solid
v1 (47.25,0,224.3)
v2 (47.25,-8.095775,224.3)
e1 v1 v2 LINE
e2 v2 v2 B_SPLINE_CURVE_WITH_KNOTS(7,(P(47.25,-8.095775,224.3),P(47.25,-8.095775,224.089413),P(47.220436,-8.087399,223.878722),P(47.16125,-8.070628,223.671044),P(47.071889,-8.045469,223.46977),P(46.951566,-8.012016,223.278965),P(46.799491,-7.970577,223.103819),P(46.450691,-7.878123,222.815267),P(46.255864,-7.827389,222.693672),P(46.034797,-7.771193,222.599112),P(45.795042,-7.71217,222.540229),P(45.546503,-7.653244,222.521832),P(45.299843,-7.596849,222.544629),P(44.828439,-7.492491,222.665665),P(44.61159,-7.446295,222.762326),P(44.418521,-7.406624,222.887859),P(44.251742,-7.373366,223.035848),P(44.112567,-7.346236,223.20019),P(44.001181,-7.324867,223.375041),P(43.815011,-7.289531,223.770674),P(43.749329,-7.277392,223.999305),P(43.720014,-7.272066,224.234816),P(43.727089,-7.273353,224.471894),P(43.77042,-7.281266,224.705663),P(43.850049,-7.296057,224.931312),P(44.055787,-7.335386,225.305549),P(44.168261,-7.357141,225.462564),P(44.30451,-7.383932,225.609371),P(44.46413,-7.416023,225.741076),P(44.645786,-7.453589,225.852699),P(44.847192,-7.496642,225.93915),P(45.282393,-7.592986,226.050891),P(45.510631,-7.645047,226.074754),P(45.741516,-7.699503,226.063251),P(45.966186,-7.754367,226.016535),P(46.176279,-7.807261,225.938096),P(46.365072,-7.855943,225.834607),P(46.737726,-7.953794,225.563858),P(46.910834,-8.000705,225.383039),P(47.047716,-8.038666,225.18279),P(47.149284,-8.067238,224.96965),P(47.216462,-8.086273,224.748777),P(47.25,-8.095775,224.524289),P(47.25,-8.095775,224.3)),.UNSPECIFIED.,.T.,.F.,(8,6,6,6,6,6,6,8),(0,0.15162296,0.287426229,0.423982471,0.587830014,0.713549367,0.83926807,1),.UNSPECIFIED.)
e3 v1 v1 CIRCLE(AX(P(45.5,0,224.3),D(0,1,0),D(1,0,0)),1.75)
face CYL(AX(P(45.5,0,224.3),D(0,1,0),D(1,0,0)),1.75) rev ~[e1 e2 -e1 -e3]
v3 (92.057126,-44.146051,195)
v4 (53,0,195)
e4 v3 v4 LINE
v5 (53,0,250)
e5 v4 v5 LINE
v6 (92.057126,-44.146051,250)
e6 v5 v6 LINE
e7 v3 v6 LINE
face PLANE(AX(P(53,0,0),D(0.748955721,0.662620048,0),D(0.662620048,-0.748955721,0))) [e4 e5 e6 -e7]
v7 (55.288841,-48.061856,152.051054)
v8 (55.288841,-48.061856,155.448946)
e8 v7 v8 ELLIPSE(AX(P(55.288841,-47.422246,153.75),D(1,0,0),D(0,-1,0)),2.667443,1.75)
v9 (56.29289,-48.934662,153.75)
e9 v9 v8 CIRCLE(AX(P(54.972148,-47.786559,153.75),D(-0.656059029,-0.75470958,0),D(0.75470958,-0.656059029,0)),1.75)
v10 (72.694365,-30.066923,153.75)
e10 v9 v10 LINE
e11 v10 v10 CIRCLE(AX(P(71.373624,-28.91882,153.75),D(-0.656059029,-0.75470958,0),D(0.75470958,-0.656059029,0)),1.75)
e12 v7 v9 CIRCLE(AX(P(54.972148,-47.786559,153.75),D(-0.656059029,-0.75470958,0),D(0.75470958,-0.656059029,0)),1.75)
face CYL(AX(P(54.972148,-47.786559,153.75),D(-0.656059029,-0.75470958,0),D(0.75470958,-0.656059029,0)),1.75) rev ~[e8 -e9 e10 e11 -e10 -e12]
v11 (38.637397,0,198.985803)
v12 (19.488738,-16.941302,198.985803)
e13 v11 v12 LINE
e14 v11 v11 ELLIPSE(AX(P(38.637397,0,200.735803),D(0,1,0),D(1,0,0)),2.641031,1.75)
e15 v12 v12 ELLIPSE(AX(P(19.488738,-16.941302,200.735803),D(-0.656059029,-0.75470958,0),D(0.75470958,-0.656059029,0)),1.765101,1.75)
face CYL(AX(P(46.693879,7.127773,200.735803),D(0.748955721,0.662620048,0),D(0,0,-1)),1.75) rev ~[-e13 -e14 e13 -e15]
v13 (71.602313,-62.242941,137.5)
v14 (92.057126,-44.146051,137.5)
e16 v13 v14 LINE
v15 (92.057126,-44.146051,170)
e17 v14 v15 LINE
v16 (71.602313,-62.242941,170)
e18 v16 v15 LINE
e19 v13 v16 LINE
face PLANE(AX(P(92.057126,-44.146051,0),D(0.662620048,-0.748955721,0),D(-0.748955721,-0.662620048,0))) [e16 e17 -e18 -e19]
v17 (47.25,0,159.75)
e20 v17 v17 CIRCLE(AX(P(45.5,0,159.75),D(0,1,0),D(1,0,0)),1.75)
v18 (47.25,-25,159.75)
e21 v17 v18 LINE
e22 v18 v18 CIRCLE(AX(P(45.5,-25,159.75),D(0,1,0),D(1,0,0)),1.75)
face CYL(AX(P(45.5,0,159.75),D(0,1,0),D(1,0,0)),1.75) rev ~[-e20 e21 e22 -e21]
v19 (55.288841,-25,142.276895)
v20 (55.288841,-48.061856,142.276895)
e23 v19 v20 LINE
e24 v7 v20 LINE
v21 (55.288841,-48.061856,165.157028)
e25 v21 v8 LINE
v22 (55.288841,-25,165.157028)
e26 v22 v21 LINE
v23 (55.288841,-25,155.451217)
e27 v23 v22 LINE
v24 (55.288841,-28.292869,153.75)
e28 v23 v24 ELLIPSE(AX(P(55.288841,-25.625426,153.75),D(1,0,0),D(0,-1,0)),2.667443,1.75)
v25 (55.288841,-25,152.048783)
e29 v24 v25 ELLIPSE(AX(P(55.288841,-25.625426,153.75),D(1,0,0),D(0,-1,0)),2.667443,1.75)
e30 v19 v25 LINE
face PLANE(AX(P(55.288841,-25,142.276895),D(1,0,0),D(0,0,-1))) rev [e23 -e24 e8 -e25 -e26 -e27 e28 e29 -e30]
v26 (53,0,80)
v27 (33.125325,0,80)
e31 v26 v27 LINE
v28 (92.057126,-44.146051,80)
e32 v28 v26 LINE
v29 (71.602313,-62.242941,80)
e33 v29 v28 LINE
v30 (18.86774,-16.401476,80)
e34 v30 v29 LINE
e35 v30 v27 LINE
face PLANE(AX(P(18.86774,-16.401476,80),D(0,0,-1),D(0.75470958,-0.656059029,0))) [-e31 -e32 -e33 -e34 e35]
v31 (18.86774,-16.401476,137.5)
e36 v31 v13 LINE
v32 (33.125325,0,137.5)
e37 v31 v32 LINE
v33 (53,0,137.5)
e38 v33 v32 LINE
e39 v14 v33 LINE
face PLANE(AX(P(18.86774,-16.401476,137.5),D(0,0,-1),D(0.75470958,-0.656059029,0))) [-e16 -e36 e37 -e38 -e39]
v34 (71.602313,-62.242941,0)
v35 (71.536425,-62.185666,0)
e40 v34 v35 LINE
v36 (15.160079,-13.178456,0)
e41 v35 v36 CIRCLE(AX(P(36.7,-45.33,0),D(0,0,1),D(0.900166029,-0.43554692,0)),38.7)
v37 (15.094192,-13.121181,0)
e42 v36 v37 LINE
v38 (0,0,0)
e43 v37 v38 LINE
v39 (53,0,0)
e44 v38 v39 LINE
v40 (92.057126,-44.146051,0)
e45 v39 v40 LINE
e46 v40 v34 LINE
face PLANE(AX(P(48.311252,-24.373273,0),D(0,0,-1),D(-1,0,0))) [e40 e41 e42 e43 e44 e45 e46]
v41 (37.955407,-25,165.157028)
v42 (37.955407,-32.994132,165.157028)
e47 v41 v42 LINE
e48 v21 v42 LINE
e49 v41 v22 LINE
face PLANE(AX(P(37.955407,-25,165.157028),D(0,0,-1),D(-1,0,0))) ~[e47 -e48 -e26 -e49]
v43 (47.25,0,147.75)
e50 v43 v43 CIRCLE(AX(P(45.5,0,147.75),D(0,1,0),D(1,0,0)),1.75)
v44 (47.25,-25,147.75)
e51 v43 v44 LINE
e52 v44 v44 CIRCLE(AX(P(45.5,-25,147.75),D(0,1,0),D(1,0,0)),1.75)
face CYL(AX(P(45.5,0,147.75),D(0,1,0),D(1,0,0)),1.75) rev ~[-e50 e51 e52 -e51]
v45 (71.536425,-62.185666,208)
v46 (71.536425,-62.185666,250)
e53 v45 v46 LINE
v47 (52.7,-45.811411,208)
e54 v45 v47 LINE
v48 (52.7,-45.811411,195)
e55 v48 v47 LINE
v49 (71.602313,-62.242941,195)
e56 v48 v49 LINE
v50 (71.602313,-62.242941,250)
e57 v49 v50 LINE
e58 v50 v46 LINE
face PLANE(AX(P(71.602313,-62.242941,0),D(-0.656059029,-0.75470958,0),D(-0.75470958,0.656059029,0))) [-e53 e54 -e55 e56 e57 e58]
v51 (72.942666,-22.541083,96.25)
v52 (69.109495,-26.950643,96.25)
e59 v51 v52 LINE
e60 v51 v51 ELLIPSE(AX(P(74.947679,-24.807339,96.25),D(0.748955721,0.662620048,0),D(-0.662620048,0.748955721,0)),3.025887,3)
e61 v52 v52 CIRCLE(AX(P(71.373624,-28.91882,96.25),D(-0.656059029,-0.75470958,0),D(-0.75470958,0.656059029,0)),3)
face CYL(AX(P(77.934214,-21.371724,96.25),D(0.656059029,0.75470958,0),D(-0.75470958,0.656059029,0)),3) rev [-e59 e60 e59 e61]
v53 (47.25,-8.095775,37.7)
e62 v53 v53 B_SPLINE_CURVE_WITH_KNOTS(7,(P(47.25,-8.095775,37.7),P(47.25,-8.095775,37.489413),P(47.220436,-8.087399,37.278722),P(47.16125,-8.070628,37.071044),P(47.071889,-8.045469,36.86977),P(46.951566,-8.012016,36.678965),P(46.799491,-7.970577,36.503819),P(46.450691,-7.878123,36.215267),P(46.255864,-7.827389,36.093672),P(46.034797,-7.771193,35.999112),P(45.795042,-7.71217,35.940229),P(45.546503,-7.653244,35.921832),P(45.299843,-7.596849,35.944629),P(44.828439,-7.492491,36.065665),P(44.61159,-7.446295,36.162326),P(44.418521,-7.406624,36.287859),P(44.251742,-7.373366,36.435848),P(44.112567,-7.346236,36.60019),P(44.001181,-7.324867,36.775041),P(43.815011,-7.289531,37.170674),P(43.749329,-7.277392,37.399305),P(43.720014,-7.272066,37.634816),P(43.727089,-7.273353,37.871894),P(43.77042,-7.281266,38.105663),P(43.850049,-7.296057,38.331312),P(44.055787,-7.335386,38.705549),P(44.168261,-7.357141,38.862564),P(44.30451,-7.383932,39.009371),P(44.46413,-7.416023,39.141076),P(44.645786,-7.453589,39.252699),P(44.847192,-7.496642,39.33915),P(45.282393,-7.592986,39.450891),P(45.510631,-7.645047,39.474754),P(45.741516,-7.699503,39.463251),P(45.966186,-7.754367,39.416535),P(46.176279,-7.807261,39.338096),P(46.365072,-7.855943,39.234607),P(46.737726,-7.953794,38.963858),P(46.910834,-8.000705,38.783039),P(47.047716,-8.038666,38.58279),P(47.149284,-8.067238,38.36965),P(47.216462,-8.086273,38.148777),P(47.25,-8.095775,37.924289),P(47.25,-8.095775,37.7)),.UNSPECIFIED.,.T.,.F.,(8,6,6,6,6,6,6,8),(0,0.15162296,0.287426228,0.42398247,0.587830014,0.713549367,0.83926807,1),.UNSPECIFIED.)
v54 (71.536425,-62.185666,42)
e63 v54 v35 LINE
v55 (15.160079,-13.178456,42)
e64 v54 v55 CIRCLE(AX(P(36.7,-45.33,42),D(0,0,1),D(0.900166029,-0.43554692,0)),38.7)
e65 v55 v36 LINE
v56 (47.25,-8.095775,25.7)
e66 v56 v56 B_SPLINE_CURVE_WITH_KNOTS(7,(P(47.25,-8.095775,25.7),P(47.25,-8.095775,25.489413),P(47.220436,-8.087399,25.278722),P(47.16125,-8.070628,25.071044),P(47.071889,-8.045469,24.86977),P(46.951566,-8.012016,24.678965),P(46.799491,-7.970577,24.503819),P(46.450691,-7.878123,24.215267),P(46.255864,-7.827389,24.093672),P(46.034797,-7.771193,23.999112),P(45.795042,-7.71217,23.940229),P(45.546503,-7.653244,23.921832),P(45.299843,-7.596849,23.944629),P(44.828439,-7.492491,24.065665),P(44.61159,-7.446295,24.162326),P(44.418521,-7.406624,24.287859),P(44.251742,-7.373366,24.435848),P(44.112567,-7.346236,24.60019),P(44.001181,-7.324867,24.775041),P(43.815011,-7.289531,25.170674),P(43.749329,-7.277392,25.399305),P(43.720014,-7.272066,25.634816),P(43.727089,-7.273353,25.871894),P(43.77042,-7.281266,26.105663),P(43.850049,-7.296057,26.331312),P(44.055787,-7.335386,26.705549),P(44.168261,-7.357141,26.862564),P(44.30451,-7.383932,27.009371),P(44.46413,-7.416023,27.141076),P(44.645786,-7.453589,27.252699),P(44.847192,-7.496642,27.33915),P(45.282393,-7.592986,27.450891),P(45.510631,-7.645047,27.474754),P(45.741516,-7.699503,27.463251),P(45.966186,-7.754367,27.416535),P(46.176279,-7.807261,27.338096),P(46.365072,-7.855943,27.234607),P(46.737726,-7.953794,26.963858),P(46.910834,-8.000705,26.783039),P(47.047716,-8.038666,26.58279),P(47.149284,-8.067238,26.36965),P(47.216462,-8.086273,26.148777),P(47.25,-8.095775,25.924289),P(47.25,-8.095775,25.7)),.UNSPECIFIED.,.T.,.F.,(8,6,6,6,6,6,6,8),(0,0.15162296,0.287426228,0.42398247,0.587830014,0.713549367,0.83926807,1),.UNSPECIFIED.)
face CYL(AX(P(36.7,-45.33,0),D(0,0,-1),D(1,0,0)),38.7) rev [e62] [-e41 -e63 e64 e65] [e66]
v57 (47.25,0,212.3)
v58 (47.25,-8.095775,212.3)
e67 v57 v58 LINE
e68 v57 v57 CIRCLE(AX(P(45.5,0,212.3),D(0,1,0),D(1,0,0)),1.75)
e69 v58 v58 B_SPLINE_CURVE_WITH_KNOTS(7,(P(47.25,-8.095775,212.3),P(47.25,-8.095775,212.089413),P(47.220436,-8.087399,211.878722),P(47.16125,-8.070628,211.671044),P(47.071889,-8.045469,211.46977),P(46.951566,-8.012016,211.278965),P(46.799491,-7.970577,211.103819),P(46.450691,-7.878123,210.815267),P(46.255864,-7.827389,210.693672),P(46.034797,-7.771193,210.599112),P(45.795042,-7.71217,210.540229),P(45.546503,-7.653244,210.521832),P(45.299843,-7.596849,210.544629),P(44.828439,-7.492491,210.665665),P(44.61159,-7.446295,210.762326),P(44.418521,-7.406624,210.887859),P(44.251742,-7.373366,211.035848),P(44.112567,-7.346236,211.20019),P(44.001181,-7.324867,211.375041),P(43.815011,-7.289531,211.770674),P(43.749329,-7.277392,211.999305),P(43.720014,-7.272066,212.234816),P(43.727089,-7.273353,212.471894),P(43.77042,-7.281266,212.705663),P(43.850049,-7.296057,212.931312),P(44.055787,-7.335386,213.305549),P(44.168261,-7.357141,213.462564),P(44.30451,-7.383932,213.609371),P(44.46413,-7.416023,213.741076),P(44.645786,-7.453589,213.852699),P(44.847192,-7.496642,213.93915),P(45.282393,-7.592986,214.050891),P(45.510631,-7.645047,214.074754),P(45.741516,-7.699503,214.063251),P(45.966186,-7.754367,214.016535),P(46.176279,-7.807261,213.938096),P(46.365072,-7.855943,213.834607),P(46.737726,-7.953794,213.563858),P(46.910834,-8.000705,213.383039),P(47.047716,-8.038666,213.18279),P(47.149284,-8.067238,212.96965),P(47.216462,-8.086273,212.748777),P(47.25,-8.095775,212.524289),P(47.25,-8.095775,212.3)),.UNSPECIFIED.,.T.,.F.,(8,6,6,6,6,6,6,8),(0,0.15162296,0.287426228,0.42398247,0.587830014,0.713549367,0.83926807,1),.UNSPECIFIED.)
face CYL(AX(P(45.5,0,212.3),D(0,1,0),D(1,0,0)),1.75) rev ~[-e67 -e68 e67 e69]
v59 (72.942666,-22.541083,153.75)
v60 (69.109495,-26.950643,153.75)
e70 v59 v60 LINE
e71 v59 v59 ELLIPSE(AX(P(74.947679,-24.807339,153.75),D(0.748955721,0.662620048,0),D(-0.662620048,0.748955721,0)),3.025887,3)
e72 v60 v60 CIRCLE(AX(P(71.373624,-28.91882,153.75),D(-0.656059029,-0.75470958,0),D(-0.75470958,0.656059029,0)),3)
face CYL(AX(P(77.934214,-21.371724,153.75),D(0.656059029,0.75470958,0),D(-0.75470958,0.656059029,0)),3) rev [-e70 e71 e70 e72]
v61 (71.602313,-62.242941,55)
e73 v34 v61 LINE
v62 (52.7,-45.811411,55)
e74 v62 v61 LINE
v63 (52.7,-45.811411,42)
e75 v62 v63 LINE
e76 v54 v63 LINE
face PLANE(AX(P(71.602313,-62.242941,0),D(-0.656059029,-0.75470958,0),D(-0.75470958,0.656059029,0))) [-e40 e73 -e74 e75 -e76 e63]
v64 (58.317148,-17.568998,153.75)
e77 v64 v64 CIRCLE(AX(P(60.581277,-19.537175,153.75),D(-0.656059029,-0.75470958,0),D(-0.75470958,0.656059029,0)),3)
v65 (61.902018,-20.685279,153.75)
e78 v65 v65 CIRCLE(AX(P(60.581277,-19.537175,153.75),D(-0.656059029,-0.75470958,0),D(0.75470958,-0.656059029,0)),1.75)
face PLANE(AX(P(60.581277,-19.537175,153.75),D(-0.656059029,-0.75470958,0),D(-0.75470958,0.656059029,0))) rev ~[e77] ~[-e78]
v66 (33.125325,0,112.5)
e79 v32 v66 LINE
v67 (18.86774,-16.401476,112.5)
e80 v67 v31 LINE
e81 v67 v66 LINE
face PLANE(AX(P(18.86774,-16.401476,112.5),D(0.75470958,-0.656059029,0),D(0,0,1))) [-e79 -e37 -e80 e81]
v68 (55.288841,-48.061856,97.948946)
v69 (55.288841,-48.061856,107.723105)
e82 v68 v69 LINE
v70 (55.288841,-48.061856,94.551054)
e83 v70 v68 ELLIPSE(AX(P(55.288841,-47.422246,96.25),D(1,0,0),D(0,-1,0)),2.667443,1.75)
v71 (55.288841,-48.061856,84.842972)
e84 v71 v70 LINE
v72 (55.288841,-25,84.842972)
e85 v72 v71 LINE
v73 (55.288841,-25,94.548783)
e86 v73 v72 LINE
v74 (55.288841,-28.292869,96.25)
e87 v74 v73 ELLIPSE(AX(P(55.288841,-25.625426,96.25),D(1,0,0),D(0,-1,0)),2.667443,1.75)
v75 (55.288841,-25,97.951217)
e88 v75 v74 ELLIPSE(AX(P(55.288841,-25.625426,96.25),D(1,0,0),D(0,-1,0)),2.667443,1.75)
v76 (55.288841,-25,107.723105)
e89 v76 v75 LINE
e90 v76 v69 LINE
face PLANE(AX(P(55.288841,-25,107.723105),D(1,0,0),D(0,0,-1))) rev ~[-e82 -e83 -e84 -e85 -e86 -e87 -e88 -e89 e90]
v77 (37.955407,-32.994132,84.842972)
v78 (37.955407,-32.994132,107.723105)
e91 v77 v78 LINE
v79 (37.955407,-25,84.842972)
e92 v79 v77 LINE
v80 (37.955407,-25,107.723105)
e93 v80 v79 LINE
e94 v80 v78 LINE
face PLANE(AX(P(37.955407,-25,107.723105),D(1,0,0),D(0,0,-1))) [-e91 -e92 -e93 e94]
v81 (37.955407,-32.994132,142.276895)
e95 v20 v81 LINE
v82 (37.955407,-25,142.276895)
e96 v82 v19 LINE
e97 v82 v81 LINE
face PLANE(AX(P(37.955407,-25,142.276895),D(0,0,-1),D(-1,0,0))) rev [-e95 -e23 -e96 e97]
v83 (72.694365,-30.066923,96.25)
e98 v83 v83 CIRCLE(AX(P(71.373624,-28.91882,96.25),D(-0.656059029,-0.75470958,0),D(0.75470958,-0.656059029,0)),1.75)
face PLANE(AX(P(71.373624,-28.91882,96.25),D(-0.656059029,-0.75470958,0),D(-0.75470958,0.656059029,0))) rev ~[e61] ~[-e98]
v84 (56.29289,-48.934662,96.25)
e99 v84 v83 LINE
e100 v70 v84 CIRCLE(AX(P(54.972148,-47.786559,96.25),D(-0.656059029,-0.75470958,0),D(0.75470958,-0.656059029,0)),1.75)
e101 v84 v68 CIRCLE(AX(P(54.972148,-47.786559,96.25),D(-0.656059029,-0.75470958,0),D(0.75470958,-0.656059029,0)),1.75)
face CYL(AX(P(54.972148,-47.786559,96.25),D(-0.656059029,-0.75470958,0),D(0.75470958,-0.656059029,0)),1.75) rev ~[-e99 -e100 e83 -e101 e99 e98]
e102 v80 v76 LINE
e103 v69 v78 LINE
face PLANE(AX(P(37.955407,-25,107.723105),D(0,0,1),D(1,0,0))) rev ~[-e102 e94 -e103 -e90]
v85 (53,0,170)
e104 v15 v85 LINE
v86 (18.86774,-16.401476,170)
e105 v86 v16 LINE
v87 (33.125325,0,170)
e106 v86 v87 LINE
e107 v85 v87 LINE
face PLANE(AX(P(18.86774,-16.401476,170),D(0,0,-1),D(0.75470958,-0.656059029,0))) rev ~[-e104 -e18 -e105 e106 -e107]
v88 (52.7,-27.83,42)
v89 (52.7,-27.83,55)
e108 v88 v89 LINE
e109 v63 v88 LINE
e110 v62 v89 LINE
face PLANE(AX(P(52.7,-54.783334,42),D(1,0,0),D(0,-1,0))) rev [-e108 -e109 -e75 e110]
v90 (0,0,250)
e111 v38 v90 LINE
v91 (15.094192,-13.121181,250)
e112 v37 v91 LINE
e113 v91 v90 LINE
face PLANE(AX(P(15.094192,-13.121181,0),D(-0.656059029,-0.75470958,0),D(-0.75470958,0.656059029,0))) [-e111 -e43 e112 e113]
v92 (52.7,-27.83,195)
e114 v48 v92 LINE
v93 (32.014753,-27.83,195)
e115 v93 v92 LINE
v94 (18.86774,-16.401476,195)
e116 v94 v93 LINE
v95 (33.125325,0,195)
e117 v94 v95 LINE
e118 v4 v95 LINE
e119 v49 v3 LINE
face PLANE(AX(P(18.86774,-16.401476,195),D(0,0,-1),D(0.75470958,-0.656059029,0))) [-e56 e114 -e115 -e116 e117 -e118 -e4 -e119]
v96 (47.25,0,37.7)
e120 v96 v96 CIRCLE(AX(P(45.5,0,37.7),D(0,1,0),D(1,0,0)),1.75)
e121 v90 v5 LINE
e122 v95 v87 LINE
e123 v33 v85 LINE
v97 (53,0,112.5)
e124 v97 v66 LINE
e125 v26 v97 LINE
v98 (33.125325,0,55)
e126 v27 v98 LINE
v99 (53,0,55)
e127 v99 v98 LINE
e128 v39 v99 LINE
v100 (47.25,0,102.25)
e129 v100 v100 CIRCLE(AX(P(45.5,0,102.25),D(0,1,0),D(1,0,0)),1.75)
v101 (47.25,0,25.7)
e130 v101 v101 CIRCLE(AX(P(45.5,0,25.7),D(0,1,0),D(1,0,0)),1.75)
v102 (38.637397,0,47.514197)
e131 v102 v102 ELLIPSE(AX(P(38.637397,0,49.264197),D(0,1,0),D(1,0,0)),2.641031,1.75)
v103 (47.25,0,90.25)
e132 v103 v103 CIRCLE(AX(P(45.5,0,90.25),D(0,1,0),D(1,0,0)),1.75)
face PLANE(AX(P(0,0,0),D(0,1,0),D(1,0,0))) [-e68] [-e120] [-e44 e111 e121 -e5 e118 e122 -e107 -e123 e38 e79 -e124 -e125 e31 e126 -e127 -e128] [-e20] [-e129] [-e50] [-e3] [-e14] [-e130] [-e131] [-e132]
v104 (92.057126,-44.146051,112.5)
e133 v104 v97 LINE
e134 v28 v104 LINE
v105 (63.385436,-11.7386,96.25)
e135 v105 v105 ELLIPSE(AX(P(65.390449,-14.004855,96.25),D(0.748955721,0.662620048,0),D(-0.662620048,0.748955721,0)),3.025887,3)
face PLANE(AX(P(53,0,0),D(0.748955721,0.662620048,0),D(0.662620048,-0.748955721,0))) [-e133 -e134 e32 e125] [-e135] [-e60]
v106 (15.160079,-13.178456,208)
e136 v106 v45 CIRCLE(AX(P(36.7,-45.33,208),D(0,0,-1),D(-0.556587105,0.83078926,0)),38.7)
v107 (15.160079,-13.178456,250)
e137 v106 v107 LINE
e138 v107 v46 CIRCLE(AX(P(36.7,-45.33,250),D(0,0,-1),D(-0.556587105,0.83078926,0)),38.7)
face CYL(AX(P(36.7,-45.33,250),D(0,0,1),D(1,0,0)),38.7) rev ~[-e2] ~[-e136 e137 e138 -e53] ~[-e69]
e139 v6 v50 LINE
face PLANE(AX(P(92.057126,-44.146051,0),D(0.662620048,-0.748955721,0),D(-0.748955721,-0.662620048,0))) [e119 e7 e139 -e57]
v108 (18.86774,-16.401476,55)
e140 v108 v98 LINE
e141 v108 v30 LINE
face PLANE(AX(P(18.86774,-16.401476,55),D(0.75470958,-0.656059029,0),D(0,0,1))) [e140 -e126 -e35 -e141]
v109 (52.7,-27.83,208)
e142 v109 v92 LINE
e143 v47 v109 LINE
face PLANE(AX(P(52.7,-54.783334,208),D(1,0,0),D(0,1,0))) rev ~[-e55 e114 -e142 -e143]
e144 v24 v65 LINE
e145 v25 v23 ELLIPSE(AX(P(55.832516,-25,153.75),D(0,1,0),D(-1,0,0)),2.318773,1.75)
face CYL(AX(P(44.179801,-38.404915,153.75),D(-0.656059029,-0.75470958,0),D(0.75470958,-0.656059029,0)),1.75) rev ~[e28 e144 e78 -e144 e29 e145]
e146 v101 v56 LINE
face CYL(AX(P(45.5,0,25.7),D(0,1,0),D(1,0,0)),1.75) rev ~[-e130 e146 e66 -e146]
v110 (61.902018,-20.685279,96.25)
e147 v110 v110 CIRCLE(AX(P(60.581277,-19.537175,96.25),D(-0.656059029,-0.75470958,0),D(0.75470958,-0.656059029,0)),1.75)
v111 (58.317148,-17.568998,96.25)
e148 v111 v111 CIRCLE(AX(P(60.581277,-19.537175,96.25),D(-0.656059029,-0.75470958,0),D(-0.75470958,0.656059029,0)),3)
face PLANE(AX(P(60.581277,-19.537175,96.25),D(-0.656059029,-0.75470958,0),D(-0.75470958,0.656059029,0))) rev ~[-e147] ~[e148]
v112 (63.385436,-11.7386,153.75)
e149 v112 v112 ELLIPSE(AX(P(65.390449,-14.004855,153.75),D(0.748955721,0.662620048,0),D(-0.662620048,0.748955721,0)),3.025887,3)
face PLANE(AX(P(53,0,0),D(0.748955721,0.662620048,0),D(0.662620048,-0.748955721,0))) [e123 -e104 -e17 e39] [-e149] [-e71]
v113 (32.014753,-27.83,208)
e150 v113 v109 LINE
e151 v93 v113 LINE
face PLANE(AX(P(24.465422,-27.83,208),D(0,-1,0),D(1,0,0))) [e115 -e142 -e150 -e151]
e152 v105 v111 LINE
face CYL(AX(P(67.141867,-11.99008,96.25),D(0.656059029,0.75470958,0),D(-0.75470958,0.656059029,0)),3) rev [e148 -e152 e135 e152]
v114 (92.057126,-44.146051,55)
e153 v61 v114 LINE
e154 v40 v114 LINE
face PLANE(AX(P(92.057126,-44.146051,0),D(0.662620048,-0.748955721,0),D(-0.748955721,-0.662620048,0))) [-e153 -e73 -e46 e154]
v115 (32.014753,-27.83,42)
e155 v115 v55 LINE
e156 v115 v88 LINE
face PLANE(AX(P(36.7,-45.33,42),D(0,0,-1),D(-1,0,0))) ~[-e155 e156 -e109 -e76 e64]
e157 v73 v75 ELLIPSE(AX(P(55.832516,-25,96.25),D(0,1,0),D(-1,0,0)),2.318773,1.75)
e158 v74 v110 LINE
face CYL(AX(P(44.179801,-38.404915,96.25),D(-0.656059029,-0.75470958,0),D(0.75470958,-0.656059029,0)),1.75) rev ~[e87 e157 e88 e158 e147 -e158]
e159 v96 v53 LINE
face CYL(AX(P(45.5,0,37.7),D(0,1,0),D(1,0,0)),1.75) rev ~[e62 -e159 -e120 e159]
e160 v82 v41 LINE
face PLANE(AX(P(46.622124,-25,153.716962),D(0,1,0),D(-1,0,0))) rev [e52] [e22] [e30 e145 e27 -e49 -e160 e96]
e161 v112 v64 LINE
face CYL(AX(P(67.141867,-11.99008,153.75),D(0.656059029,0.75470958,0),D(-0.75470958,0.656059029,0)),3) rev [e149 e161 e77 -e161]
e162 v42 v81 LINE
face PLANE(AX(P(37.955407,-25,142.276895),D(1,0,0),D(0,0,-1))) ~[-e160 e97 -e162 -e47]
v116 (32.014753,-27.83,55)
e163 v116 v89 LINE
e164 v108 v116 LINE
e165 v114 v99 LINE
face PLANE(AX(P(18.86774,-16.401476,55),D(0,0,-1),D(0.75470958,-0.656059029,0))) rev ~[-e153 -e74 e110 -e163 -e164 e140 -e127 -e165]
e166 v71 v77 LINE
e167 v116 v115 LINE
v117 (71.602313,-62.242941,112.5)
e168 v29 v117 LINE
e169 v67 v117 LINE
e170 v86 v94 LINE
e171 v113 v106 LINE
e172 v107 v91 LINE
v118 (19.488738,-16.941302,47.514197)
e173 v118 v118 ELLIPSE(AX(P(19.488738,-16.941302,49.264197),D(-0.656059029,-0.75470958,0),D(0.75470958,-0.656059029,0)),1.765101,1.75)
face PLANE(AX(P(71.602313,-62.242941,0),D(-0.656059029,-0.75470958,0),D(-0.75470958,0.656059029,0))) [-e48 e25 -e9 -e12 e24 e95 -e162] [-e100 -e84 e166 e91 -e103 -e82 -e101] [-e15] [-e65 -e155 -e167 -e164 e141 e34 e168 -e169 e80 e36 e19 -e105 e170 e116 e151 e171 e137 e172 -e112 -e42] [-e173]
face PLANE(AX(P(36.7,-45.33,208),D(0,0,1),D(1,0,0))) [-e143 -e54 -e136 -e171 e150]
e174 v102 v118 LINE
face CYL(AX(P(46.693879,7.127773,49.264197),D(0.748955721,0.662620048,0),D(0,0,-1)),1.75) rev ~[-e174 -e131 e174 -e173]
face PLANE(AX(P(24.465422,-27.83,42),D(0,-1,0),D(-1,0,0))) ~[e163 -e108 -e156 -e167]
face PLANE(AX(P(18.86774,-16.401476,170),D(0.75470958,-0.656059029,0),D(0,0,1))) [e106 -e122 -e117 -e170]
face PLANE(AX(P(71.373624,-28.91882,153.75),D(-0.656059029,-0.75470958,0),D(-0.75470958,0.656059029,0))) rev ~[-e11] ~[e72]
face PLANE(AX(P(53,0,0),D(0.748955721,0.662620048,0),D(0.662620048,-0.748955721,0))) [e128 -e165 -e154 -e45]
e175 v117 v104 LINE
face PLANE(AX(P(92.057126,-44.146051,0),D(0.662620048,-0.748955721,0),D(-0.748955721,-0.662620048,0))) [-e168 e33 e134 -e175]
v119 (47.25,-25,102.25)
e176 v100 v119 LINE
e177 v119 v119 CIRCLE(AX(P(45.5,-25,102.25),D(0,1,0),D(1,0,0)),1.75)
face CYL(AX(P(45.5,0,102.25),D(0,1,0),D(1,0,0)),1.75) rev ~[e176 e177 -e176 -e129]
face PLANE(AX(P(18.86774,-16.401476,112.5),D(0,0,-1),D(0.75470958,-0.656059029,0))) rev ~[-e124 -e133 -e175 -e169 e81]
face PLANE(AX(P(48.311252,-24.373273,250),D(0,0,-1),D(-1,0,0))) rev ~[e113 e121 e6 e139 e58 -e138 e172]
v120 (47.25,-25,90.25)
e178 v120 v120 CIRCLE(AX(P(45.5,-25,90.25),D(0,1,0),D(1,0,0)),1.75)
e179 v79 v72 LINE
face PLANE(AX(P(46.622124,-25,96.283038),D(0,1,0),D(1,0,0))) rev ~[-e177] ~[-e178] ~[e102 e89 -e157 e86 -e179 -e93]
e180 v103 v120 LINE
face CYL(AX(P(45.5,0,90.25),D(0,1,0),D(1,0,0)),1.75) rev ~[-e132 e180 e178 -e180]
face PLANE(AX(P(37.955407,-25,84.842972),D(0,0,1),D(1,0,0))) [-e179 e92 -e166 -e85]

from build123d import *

# Parameters (mm, degrees)
EXTRUDE_1_DEPTH      = 250
SKETCH_2_R           = 38.7
CUT_EXTRUDE_1_DEPTH  = 42
SKETCH_3_W           = 28.23457759
SKETCH_3_H           = 26.953334418
CUT_EXTRUDE_2_DEPTH  = 14
SKETCH_4_W           = 170
SKETCH_4_H           = 25
CUT_EXTRUDE_3_DEPTH  = 78
SKETCH_7_R           = 1.75
CUT_EXTRUDE_5_DEPTH  = 25
SKETCH_6_R           = 1.75
CUT_EXTRUDE_6_DEPTH  = 90
SKETCH_5_R           = 1.75
CUT_EXTRUDE_8_DEPTH  = 10
SKETCH_9_R           = 1.75
CUT_EXTRUDE_9_DEPTH  = 124
SKETCH_10_W          = 17.333433977
SKETCH_10_H          = 22.880132851
CUT_EXTRUDE_10_DEPTH = 31
SKETCH_11_R          = 3
CUT_EXTRUDE_11_DEPTH = 10


with BuildPart() as part:
    # 草图1 → 凸台-拉伸1 (new body)
    with BuildSketch(Plane.XY):
        Polygon((0, 0), (53, 0), (92.057126275, -44.146050576), (71.602312757, -62.242940876), (15.094191604, -13.12118058), align=None)
    extrude(amount=EXTRUDE_1_DEPTH)

    # 草图2 → 切除-拉伸1 (cut)
    with BuildSketch(Plane.XY.offset(250)):
        with Locations((36.7, -45.33)):
            Circle(SKETCH_2_R)
    cut_extrude_1 = extrude(amount=-CUT_EXTRUDE_1_DEPTH, mode=Mode.SUBTRACT)

    # 草图3 → 切除-拉伸2 (cut)
    with BuildSketch(Plane.XY.offset(208)):
        with Locations((38.582711205, -41.306667209)):
            Rectangle(SKETCH_3_W, SKETCH_3_H)
    cut_extrude_2 = extrude(amount=-CUT_EXTRUDE_2_DEPTH, mode=Mode.SUBTRACT)

    # 草图4 → 切除-拉伸3 (cut)
    with BuildSketch(Plane(origin=(0, 0, 0), x_dir=(0.75470958, -0.656059029, 0), z_dir=(-0.656059029, -0.75470958, 0))):
        with Locations((110, 67.5)):
            Rectangle(SKETCH_4_W, SKETCH_4_H)
        with Locations((110, 125)):
            Rectangle(SKETCH_4_W, SKETCH_4_H)
        with Locations((110, 182.5)):
            Rectangle(SKETCH_4_W, SKETCH_4_H)
    extrude(amount=-CUT_EXTRUDE_3_DEPTH, mode=Mode.SUBTRACT)

    # 镜向1: 切除-拉伸1, 切除-拉伸2 across plane
    add(cut_extrude_1.mirror(Plane.XY.offset(125)), mode=Mode.SUBTRACT)
    add(cut_extrude_2.mirror(Plane.XY.offset(125)), mode=Mode.SUBTRACT)

    # 草图7 → 切除-拉伸5 (cut)
    with BuildSketch(Plane(origin=(0, 0, 0), x_dir=(1, 0, 0), z_dir=(0, 1, 0))):
        with Locations((45.5, -159.75)):
            Circle(SKETCH_7_R)
        with Locations((45.5, -147.75)):
            Circle(SKETCH_7_R)
        with Locations((45.5, -102.25)):
            Circle(SKETCH_7_R)
        with Locations((45.5, -90.25)):
            Circle(SKETCH_7_R)
    extrude(amount=-CUT_EXTRUDE_5_DEPTH, mode=Mode.SUBTRACT)

    # 草图6 → 切除-拉伸6 (cut)
    with BuildSketch(Plane(origin=(0, 0, 0), x_dir=(0.75470958, -0.656059029, 0), z_dir=(-0.656059029, -0.75470958, 0))):
        with Locations((72.838810202, 96.25)):
            Circle(SKETCH_6_R)
        with Locations((58.538810202, 96.25)):
            Circle(SKETCH_6_R)
        with Locations((72.838810202, 153.75)):
            Circle(SKETCH_6_R)
        with Locations((58.538810202, 153.75)):
            Circle(SKETCH_6_R)
    extrude(amount=-CUT_EXTRUDE_6_DEPTH, mode=Mode.SUBTRACT)

    # 草图5 → 切除-拉伸8 (cut)
    with BuildSketch(Plane(origin=(0, 0, 0), x_dir=(1, 0, 0), z_dir=(0, 1, 0))):
        with Locations((45.5, -212.3)):
            Circle(SKETCH_5_R)
        with Locations((45.5, -224.3)):
            Circle(SKETCH_5_R)
        with Locations((45.5, -25.7)):
            Circle(SKETCH_5_R)
        with Locations((45.5, -37.7)):
            Circle(SKETCH_5_R)
    extrude(amount=-CUT_EXTRUDE_8_DEPTH, mode=Mode.SUBTRACT)

    # 草图9 → 切除-拉伸9 (cut)
    with BuildSketch(Plane(origin=(29.7295376, 26.302473018, 0), x_dir=(0, 0, -1), z_dir=(0.748955721, 0.662620048, 0))):
        with Locations((-49.264197296, -25.601913803)):
            Circle(SKETCH_9_R)
        with Locations((-200.735802704, -25.601913803)):
            Circle(SKETCH_9_R)
    extrude(amount=-CUT_EXTRUDE_9_DEPTH, mode=Mode.SUBTRACT)

    # 草图10 → 切除-拉伸10 (cut)
    with BuildSketch(Plane(origin=(0, -25, 0), x_dir=(1, 0, 0), z_dir=(0, 1, 0))):
        with Locations((46.622123833, -96.2830381)):
            Rectangle(SKETCH_10_W, SKETCH_10_H)
    cut_extrude_10 = extrude(amount=-CUT_EXTRUDE_10_DEPTH, mode=Mode.SUBTRACT)

    # 镜向2: 切除-拉伸10 across plane
    add(cut_extrude_10.mirror(Plane.XY.offset(125)), mode=Mode.SUBTRACT)

    # 草图11 → 切除-拉伸11 (cut)
    with BuildSketch(Plane(origin=(22.962066015, 26.414835308, 0), x_dir=(-0.75470958, 0.656059029, 0), z_dir=(-0.656059029, -0.75470958, 0))):
        with Locations((-58.538810202, -96.25)):
            Circle(SKETCH_11_R)
        with Locations((-72.838810202, -96.25)):
            Circle(SKETCH_11_R)
        with Locations((-58.538810202, -153.75)):
            Circle(SKETCH_11_R)
        with Locations((-72.838810202, -153.75)):
            Circle(SKETCH_11_R)
    extrude(amount=CUT_EXTRUDE_11_DEPTH, mode=Mode.SUBTRACT)


solid = part.part
